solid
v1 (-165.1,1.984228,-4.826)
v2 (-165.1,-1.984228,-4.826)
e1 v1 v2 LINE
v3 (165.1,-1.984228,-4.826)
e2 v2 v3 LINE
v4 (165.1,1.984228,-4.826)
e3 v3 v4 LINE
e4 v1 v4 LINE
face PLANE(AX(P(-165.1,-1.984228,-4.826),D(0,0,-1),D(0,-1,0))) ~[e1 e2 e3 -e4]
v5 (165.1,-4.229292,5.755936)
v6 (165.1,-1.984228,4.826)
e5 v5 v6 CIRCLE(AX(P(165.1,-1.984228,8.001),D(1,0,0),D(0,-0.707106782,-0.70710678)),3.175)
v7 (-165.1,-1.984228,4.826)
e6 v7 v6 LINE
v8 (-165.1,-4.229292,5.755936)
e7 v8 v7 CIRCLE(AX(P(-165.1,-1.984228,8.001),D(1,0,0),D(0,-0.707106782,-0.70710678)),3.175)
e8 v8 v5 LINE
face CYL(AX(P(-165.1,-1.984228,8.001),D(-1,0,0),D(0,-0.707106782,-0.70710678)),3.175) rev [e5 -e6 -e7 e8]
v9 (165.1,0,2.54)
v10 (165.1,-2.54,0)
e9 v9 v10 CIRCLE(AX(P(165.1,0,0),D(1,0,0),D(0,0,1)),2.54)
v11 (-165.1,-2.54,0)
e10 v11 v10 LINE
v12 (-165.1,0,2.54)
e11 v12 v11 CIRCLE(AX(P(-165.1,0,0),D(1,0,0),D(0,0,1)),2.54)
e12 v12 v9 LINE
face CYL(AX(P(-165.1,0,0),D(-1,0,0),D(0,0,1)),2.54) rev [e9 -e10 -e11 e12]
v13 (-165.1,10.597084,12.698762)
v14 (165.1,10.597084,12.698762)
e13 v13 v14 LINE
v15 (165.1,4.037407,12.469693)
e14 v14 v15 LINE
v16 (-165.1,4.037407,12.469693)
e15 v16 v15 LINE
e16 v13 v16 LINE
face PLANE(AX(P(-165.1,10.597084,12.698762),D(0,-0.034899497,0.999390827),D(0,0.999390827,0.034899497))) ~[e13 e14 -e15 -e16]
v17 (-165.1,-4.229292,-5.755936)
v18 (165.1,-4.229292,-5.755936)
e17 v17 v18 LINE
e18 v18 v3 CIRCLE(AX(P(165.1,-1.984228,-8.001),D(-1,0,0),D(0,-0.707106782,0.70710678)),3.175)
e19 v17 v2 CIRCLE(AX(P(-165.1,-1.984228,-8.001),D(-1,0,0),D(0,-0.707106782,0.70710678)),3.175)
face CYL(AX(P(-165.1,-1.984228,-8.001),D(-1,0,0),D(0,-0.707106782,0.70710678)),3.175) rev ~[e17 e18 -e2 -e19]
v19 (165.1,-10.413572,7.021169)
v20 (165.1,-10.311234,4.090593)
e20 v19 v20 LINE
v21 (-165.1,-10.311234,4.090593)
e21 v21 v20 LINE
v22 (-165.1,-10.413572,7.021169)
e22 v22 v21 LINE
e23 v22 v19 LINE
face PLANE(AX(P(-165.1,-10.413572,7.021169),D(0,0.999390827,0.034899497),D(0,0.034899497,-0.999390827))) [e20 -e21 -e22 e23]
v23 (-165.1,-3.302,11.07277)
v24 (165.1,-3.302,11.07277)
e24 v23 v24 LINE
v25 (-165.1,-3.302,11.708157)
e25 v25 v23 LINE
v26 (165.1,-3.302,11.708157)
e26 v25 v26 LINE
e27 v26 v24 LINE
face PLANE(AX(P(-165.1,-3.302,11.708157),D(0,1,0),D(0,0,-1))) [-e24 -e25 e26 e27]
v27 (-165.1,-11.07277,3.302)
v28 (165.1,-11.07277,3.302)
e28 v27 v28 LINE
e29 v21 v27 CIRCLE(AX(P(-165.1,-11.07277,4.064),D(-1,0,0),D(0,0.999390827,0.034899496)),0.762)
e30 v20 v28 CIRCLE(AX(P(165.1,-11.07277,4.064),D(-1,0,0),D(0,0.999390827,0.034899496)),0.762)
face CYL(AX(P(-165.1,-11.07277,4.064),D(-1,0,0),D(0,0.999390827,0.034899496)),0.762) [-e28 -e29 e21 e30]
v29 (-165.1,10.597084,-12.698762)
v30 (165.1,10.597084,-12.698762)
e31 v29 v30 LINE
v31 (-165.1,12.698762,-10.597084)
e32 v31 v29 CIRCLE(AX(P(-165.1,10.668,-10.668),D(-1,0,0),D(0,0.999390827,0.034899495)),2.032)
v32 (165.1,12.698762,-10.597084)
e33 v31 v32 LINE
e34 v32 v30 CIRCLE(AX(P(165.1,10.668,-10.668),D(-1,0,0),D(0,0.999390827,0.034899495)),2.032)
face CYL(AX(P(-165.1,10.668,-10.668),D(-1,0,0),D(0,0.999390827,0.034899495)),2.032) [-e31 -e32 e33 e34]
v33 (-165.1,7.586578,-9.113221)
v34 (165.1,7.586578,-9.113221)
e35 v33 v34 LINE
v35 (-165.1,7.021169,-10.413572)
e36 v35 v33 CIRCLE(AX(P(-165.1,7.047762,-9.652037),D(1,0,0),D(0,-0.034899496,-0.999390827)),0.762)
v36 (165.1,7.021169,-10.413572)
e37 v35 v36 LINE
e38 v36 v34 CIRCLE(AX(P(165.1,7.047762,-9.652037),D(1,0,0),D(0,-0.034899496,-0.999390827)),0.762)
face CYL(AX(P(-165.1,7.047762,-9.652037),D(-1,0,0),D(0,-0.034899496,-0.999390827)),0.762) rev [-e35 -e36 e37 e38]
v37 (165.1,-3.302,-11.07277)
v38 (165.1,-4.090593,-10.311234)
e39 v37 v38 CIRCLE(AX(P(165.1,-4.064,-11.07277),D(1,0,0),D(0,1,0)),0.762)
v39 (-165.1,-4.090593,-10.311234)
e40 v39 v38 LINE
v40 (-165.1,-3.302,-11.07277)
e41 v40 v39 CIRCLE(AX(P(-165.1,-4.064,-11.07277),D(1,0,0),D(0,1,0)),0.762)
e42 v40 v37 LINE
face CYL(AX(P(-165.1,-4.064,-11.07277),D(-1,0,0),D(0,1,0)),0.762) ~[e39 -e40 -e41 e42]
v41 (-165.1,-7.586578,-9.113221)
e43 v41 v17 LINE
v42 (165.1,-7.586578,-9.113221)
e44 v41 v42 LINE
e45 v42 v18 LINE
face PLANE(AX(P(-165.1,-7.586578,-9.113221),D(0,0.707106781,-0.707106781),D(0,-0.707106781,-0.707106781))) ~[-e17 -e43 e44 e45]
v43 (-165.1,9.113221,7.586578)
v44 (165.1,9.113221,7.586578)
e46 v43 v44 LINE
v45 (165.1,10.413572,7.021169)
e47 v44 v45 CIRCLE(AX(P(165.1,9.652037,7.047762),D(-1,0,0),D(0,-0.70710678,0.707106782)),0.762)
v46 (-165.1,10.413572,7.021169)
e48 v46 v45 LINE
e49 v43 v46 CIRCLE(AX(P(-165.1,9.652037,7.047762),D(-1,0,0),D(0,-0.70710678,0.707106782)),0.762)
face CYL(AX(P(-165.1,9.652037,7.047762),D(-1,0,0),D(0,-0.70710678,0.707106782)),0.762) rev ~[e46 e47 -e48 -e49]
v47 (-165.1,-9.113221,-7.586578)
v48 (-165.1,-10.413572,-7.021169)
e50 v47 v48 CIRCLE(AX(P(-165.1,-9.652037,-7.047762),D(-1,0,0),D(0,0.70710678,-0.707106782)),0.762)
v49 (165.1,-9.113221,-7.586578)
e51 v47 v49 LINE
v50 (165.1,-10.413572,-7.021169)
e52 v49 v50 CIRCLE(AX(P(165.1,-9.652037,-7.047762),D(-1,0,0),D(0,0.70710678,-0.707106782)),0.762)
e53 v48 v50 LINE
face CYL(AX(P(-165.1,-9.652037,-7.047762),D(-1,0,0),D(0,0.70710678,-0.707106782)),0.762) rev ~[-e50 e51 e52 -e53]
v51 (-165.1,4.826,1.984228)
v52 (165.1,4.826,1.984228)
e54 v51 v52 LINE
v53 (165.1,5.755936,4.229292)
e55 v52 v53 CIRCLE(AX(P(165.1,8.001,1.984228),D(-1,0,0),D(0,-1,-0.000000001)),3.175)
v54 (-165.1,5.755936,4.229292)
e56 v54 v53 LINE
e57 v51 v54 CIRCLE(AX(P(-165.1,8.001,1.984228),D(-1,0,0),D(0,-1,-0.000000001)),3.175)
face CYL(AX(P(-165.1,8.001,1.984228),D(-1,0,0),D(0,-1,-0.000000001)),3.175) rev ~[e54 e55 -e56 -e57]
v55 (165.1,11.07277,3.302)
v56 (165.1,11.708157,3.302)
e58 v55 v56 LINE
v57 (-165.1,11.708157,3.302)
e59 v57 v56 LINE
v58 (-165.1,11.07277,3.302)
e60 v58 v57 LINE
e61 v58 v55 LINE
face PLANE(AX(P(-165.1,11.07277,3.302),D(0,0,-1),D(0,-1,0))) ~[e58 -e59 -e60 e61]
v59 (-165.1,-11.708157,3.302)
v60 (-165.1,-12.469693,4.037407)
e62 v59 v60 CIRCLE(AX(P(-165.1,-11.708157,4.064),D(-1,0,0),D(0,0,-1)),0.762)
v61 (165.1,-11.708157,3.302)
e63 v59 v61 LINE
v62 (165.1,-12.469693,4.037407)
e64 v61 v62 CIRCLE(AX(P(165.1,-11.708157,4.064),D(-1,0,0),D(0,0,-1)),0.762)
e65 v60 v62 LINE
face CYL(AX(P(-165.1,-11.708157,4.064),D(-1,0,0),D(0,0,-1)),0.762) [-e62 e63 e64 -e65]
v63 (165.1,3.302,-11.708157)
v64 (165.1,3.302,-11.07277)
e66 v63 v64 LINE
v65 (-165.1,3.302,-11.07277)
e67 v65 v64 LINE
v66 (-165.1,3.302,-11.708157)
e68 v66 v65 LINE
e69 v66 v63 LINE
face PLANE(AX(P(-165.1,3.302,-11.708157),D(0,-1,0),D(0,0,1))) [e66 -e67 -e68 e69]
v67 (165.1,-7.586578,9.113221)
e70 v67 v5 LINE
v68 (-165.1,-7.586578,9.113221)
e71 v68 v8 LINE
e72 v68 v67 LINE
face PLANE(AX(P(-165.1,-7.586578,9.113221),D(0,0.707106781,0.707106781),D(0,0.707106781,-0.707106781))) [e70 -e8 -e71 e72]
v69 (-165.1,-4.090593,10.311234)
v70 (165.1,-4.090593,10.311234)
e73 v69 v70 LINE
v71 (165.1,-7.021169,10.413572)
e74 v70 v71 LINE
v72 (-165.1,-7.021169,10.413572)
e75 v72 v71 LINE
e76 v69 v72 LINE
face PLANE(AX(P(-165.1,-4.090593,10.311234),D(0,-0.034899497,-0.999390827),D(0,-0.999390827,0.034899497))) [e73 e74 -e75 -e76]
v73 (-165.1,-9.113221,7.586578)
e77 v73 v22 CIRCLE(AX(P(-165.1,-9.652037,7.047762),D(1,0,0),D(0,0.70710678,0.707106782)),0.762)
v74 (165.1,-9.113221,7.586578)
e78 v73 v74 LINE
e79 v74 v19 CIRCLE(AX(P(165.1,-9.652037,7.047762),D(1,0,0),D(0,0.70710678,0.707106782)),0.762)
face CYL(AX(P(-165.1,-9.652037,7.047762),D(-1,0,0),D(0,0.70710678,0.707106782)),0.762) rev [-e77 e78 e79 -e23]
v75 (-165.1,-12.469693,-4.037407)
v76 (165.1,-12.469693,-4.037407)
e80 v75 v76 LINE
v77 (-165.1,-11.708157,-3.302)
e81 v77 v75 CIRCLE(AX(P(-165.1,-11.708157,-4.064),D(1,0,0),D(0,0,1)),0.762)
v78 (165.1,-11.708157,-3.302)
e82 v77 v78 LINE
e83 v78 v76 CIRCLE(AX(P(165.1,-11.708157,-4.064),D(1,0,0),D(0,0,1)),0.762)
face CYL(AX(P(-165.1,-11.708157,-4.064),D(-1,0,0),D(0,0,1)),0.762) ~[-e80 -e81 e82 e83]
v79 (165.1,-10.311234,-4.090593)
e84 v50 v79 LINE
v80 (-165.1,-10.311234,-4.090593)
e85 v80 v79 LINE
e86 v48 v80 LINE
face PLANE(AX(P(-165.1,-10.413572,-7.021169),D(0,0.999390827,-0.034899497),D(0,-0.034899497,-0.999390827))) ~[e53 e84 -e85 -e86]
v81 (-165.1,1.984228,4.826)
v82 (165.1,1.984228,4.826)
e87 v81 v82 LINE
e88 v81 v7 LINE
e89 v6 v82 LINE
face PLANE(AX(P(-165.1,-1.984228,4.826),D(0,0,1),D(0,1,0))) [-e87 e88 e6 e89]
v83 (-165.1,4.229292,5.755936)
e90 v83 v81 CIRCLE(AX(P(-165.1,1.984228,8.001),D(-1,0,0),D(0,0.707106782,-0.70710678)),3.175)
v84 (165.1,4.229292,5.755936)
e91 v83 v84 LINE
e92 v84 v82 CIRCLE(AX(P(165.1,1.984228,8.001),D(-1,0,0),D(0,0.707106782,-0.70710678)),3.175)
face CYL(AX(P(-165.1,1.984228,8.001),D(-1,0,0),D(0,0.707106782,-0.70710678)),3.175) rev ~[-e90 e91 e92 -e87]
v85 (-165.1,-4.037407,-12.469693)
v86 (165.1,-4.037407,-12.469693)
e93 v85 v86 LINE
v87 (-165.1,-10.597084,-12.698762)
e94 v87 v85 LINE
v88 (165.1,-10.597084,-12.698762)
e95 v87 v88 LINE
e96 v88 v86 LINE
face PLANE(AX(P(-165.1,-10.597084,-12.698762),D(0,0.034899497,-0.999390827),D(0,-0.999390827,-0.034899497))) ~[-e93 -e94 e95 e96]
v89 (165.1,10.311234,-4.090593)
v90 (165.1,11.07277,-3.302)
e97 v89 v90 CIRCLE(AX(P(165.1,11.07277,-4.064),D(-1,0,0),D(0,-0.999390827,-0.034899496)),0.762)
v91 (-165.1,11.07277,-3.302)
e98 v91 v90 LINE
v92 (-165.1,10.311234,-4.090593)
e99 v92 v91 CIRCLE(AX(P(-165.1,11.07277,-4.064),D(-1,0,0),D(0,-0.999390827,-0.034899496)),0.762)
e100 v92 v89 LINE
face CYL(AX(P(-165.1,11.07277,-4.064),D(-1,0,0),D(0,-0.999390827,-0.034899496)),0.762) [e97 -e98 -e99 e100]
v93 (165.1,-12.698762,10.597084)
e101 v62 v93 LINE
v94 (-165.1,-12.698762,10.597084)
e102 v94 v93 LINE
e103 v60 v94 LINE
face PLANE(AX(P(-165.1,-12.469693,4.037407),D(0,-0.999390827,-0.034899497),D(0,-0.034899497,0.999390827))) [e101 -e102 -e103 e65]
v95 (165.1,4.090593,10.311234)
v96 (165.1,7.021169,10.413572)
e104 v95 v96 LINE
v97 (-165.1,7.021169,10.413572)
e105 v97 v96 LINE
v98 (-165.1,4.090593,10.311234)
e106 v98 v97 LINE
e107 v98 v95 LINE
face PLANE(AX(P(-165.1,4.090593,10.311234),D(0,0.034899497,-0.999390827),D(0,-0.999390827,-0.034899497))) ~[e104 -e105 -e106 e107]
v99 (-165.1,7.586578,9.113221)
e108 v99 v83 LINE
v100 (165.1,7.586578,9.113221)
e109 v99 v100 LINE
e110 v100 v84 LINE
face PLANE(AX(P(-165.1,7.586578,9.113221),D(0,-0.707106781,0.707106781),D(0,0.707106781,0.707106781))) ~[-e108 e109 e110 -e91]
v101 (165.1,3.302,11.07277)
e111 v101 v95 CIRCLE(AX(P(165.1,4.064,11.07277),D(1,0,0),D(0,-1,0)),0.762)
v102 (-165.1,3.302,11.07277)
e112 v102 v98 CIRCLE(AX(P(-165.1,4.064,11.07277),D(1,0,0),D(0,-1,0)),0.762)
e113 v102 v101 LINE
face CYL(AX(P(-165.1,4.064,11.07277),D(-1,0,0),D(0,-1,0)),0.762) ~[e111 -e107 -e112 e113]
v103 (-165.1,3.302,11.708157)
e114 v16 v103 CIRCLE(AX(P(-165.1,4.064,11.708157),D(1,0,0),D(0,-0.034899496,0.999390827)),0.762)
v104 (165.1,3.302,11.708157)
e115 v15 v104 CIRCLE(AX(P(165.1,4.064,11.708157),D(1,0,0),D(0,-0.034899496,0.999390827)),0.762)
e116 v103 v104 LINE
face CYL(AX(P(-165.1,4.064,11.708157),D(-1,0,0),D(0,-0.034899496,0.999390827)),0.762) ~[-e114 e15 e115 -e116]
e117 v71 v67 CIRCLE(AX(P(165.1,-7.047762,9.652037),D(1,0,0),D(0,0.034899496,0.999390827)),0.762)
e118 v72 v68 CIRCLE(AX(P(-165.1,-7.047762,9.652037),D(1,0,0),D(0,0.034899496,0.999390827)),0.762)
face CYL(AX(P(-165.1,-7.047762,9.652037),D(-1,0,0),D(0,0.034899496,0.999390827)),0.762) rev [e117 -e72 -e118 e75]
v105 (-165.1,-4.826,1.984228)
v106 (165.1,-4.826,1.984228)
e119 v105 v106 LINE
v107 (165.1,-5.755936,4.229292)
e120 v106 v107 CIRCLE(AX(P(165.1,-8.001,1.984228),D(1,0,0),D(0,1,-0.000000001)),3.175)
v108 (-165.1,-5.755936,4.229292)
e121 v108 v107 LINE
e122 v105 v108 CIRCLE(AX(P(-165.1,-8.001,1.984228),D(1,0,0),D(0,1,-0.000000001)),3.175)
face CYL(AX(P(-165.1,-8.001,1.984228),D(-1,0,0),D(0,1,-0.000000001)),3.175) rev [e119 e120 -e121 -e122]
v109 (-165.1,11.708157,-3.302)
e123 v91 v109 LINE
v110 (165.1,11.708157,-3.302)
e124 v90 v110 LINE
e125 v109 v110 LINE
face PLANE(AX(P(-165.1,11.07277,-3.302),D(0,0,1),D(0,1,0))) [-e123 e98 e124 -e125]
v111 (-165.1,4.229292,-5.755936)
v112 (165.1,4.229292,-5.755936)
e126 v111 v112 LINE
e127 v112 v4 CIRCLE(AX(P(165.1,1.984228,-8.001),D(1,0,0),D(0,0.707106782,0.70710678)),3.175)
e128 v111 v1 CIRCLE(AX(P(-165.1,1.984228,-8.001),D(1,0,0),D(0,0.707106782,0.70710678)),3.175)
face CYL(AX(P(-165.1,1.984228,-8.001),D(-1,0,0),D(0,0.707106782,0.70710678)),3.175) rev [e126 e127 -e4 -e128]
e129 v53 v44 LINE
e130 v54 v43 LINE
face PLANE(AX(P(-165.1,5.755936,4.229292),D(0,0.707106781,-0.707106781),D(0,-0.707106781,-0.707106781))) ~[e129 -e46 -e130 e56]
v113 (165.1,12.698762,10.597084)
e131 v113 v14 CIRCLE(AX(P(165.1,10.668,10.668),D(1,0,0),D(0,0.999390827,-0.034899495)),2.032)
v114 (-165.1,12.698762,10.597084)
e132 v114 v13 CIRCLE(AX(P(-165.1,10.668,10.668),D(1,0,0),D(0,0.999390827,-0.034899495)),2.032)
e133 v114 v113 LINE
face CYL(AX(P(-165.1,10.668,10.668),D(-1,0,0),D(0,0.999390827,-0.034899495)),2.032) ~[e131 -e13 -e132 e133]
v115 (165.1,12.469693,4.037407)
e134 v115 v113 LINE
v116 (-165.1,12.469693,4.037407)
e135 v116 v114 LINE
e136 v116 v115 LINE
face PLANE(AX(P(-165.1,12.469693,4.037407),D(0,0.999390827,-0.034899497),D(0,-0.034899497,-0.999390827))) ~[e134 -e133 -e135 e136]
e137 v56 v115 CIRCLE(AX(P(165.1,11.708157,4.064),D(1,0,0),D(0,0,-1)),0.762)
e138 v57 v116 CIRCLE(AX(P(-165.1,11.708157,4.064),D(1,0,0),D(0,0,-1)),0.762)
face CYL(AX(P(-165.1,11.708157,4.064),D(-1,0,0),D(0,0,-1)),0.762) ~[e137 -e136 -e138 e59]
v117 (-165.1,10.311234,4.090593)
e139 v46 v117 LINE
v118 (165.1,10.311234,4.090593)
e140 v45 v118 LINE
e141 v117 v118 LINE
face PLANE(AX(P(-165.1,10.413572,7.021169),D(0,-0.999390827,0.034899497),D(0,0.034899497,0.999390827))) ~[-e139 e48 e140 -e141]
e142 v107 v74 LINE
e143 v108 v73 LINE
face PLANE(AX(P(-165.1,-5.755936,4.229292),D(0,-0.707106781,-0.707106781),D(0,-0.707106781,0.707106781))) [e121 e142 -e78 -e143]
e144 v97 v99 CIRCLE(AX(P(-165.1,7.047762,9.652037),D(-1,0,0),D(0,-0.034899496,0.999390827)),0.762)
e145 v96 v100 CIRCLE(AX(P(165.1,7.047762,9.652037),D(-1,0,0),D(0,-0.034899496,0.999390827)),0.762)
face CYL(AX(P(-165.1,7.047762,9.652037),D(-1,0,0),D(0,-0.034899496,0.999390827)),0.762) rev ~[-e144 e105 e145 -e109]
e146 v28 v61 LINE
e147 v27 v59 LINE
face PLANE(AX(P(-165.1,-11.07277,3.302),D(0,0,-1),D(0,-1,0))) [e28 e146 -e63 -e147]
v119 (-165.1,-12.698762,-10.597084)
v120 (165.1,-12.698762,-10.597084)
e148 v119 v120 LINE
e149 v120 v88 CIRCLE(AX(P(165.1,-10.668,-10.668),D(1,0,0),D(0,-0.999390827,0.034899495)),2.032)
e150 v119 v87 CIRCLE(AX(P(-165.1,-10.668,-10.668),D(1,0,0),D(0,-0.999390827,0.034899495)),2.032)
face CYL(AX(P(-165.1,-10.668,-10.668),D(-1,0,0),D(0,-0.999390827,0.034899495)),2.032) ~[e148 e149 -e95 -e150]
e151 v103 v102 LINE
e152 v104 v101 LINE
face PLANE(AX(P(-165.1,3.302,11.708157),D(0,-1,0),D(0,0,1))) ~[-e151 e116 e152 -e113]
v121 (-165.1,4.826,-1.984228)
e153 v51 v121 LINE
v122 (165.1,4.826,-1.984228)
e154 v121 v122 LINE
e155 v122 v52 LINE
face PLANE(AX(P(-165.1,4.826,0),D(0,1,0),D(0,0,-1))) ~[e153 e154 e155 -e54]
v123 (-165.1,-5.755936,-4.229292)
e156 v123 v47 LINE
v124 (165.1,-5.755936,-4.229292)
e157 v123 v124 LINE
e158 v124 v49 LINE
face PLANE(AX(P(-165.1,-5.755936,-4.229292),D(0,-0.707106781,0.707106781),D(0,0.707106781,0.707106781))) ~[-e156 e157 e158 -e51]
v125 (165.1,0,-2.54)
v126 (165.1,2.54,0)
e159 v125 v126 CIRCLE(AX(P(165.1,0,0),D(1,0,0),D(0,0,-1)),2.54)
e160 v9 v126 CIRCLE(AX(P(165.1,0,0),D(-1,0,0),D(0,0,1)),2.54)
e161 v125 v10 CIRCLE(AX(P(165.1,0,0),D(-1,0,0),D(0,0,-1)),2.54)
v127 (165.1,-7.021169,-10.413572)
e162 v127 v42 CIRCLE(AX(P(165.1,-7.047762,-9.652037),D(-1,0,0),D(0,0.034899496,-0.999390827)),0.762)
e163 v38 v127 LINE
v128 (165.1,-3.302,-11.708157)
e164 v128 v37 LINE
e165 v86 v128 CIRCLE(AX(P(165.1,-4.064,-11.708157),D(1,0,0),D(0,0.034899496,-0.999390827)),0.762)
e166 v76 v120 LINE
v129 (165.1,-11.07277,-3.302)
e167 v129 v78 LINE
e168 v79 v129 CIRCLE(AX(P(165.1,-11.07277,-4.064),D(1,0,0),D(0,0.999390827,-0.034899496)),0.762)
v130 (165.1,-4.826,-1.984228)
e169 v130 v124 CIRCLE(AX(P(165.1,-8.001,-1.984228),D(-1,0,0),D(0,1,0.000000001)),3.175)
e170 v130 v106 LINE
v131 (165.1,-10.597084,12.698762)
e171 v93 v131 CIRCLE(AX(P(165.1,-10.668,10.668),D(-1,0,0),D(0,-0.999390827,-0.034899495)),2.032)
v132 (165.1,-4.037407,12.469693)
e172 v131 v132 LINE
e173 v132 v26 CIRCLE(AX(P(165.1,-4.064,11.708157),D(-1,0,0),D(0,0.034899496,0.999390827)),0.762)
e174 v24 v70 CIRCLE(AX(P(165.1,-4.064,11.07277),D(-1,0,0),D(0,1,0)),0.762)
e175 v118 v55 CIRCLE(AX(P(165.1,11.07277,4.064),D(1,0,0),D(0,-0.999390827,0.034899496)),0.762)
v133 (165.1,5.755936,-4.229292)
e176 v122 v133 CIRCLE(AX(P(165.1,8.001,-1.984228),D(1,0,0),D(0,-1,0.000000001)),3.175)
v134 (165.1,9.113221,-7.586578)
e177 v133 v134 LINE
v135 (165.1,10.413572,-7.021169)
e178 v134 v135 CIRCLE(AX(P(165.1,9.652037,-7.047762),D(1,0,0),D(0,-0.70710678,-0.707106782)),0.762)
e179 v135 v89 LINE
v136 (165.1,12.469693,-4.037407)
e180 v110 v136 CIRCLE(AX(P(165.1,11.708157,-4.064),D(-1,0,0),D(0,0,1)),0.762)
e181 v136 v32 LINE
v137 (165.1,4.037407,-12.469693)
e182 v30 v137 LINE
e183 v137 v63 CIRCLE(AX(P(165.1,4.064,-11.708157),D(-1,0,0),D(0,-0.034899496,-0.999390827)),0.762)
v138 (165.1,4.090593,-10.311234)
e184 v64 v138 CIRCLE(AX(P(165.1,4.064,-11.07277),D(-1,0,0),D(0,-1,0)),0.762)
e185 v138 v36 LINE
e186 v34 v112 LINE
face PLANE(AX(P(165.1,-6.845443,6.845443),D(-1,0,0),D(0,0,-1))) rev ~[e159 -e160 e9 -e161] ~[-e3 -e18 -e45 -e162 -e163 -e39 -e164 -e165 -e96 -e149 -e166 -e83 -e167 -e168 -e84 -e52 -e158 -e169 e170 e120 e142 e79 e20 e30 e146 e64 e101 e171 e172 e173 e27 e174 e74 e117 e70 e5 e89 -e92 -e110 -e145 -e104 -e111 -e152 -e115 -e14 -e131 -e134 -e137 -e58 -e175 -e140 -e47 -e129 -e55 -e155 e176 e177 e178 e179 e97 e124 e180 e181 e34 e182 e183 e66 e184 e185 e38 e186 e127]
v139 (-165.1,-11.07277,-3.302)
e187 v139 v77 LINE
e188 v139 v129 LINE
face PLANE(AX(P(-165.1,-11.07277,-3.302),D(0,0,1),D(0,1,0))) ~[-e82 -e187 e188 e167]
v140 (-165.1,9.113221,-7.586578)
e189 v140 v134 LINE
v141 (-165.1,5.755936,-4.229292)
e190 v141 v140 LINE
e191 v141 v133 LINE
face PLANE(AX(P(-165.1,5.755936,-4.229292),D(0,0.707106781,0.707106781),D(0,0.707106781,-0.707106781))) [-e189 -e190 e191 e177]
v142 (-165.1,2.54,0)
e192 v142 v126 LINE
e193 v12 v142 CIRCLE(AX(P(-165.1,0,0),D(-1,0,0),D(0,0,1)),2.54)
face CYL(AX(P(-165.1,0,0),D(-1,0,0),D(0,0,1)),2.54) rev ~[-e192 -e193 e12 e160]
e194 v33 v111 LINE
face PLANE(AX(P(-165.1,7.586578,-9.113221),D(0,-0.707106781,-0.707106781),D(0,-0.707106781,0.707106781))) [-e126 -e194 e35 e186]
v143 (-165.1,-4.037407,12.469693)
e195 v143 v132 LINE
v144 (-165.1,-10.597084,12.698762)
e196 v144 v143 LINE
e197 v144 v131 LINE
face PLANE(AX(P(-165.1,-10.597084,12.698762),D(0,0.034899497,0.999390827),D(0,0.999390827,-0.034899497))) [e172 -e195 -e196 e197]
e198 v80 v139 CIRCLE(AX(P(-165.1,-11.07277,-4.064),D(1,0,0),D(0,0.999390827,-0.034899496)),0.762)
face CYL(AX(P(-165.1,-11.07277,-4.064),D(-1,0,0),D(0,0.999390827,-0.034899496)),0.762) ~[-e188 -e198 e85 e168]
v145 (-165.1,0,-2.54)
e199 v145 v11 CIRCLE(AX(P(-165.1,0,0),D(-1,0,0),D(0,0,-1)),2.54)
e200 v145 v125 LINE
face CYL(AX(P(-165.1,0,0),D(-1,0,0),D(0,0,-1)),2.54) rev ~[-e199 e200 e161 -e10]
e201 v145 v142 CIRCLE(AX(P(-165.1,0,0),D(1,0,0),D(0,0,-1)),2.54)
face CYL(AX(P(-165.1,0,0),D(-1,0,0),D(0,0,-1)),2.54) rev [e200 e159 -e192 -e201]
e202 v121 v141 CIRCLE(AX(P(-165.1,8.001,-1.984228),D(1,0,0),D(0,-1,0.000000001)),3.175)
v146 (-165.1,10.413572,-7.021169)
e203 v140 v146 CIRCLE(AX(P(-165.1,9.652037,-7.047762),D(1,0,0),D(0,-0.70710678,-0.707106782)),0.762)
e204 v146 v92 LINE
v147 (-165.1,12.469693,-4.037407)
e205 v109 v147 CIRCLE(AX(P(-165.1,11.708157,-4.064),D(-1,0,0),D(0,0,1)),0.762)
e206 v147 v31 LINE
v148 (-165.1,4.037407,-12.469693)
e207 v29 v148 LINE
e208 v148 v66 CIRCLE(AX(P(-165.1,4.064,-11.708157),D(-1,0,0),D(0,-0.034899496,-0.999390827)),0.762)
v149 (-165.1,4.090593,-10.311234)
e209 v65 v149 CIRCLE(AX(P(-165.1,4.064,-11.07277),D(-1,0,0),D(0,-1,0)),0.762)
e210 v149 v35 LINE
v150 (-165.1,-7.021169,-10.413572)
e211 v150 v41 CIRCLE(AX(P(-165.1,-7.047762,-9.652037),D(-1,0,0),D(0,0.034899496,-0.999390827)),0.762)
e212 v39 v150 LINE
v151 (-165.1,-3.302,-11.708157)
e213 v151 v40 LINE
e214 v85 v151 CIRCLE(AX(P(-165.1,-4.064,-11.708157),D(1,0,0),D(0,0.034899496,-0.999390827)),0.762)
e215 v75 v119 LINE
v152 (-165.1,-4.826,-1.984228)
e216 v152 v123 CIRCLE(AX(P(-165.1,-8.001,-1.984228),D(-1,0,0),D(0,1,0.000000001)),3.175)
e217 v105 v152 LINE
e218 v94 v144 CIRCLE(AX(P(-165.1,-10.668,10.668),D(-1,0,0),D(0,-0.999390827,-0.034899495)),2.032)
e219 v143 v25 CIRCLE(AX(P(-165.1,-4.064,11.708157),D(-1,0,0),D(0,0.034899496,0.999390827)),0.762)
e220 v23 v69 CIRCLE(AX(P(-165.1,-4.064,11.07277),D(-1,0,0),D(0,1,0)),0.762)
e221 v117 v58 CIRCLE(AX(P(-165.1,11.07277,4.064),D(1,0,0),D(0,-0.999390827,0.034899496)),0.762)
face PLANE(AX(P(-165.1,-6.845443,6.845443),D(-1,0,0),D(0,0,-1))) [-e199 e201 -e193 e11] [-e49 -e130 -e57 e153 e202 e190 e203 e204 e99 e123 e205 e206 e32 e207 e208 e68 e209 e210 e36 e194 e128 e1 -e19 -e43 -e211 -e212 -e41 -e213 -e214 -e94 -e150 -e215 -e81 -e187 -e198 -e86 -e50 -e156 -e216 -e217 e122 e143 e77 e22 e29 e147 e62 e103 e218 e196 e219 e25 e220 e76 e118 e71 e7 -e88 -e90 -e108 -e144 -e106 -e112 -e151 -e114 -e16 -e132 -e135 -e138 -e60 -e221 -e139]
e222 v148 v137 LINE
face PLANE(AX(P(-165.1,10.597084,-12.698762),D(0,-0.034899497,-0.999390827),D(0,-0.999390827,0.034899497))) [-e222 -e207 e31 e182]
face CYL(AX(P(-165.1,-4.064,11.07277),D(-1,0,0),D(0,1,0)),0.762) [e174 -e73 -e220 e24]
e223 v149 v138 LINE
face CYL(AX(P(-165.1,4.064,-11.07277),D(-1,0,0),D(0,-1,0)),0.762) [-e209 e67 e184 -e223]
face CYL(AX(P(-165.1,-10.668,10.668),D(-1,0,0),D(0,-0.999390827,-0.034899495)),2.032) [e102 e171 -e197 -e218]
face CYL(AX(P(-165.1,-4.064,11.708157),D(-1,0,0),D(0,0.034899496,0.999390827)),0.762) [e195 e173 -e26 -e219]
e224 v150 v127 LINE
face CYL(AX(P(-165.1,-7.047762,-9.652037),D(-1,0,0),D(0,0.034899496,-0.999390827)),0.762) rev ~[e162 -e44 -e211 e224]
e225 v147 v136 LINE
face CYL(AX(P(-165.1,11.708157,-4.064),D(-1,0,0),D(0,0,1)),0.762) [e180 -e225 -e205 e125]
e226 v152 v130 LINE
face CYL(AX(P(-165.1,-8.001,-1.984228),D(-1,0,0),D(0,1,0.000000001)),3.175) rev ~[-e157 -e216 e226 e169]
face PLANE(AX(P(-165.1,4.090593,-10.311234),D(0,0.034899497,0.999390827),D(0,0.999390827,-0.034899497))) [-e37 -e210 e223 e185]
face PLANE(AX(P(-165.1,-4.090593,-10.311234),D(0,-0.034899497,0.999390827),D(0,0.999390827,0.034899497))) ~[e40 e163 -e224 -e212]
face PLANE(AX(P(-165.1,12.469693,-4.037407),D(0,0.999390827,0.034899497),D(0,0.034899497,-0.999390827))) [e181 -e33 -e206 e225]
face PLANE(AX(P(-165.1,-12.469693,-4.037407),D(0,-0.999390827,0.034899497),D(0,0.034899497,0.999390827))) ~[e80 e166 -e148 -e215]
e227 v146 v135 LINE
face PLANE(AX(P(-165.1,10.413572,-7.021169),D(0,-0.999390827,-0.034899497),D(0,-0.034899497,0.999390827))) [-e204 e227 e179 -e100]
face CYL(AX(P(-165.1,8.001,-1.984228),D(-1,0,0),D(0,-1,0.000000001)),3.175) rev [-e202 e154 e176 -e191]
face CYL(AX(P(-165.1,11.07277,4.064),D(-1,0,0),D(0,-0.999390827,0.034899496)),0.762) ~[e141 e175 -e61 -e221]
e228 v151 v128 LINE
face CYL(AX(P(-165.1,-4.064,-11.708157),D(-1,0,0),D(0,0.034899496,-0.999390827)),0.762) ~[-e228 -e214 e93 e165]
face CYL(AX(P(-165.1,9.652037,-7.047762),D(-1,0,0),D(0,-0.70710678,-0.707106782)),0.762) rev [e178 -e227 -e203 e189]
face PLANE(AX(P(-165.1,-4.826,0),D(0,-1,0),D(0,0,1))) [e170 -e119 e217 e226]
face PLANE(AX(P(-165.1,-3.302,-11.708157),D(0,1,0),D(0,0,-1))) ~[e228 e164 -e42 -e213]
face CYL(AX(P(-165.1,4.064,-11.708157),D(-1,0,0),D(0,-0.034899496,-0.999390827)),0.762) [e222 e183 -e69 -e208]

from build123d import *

# Parameters (mm, degrees)
BOSS_EXTRUDE1_DEPTH      = 165.1
BOSS_EXTRUDE1_DEPTH_BACK = 165.1


with BuildPart() as part:
    # Sketch3 → Boss-Extrude1 (new, two sides: drawn at the far end of the back side and taken through both)
    with BuildSketch(Plane(origin=(0, 0, 0), x_dir=(0, 0, -1), z_dir=(1, 0, 0)).offset(-BOSS_EXTRUDE1_DEPTH_BACK)):
        with BuildLine():
            Line((0, 4.826), (1.984228399, 4.826))
            ThreePointArc((1.984228399, 4.826), (3.199248297, 5.067682484), (4.229292429, 5.75593597))
            Line((4.229292429, 5.75593597), (7.586577723, 9.113221264))
            ThreePointArc((7.586577723, 9.113221264), (7.746562132, 9.955883421), (7.021168939, 10.413572441))
            Line((7.021168939, 10.413572441), (4.090593416, 10.311234489))
            ThreePointArc((4.090593416, 10.311234489), (3.534670322, 10.524633371), (3.302, 11.072770299))
            Line((3.302, 11.072770299), (3.302, 11.70815736))
            ThreePointArc((3.302, 11.70815736), (3.515863072, 12.237487038), (4.037406584, 12.46969317))
            Line((4.037406584, 12.46969317), (10.597084223, 12.698762161))
            ThreePointArc((10.597084223, 12.698762161), (12.104840979, 12.104840979), (12.698762161, 10.597084223))
            Line((12.698762161, 10.597084223), (12.46969317, 4.037406584))
            ThreePointArc((12.46969317, 4.037406584), (12.237487038, 3.515863072), (11.70815736, 3.302))
            Line((11.70815736, 3.302), (11.072770299, 3.302))
            ThreePointArc((11.072770299, 3.302), (10.524633371, 3.534670322), (10.311234489, 4.090593416))
            Line((10.311234489, 4.090593416), (10.413572441, 7.021168939))
            ThreePointArc((10.413572441, 7.021168939), (9.955883421, 7.746562132), (9.113221264, 7.586577723))
            Line((9.113221264, 7.586577723), (5.75593597, 4.229292429))
            ThreePointArc((5.75593597, 4.229292429), (5.067682484, 3.199248297), (4.826, 1.984228399))
            Line((4.826, 1.984228399), (4.826, 0))
            Line((4.826, 0), (2.54, 0))
            ThreePointArc((2.54, 0), (1.796051224, 1.796051224), (0, 2.54))
            Line((0, 2.54), (0, 4.826))
        make_face()
    extrude(amount=BOSS_EXTRUDE1_DEPTH + BOSS_EXTRUDE1_DEPTH_BACK)

    # Mirror1: part across plane


with BuildPart() as part_1:
    add(part.part)
    add(part.part.mirror(Plane.ZX))

    # Mirror2: part across plane


with BuildPart() as part_2:
    add(part_1.part)
    add(part_1.part.mirror(Plane.XY))


solid = part_2.part
